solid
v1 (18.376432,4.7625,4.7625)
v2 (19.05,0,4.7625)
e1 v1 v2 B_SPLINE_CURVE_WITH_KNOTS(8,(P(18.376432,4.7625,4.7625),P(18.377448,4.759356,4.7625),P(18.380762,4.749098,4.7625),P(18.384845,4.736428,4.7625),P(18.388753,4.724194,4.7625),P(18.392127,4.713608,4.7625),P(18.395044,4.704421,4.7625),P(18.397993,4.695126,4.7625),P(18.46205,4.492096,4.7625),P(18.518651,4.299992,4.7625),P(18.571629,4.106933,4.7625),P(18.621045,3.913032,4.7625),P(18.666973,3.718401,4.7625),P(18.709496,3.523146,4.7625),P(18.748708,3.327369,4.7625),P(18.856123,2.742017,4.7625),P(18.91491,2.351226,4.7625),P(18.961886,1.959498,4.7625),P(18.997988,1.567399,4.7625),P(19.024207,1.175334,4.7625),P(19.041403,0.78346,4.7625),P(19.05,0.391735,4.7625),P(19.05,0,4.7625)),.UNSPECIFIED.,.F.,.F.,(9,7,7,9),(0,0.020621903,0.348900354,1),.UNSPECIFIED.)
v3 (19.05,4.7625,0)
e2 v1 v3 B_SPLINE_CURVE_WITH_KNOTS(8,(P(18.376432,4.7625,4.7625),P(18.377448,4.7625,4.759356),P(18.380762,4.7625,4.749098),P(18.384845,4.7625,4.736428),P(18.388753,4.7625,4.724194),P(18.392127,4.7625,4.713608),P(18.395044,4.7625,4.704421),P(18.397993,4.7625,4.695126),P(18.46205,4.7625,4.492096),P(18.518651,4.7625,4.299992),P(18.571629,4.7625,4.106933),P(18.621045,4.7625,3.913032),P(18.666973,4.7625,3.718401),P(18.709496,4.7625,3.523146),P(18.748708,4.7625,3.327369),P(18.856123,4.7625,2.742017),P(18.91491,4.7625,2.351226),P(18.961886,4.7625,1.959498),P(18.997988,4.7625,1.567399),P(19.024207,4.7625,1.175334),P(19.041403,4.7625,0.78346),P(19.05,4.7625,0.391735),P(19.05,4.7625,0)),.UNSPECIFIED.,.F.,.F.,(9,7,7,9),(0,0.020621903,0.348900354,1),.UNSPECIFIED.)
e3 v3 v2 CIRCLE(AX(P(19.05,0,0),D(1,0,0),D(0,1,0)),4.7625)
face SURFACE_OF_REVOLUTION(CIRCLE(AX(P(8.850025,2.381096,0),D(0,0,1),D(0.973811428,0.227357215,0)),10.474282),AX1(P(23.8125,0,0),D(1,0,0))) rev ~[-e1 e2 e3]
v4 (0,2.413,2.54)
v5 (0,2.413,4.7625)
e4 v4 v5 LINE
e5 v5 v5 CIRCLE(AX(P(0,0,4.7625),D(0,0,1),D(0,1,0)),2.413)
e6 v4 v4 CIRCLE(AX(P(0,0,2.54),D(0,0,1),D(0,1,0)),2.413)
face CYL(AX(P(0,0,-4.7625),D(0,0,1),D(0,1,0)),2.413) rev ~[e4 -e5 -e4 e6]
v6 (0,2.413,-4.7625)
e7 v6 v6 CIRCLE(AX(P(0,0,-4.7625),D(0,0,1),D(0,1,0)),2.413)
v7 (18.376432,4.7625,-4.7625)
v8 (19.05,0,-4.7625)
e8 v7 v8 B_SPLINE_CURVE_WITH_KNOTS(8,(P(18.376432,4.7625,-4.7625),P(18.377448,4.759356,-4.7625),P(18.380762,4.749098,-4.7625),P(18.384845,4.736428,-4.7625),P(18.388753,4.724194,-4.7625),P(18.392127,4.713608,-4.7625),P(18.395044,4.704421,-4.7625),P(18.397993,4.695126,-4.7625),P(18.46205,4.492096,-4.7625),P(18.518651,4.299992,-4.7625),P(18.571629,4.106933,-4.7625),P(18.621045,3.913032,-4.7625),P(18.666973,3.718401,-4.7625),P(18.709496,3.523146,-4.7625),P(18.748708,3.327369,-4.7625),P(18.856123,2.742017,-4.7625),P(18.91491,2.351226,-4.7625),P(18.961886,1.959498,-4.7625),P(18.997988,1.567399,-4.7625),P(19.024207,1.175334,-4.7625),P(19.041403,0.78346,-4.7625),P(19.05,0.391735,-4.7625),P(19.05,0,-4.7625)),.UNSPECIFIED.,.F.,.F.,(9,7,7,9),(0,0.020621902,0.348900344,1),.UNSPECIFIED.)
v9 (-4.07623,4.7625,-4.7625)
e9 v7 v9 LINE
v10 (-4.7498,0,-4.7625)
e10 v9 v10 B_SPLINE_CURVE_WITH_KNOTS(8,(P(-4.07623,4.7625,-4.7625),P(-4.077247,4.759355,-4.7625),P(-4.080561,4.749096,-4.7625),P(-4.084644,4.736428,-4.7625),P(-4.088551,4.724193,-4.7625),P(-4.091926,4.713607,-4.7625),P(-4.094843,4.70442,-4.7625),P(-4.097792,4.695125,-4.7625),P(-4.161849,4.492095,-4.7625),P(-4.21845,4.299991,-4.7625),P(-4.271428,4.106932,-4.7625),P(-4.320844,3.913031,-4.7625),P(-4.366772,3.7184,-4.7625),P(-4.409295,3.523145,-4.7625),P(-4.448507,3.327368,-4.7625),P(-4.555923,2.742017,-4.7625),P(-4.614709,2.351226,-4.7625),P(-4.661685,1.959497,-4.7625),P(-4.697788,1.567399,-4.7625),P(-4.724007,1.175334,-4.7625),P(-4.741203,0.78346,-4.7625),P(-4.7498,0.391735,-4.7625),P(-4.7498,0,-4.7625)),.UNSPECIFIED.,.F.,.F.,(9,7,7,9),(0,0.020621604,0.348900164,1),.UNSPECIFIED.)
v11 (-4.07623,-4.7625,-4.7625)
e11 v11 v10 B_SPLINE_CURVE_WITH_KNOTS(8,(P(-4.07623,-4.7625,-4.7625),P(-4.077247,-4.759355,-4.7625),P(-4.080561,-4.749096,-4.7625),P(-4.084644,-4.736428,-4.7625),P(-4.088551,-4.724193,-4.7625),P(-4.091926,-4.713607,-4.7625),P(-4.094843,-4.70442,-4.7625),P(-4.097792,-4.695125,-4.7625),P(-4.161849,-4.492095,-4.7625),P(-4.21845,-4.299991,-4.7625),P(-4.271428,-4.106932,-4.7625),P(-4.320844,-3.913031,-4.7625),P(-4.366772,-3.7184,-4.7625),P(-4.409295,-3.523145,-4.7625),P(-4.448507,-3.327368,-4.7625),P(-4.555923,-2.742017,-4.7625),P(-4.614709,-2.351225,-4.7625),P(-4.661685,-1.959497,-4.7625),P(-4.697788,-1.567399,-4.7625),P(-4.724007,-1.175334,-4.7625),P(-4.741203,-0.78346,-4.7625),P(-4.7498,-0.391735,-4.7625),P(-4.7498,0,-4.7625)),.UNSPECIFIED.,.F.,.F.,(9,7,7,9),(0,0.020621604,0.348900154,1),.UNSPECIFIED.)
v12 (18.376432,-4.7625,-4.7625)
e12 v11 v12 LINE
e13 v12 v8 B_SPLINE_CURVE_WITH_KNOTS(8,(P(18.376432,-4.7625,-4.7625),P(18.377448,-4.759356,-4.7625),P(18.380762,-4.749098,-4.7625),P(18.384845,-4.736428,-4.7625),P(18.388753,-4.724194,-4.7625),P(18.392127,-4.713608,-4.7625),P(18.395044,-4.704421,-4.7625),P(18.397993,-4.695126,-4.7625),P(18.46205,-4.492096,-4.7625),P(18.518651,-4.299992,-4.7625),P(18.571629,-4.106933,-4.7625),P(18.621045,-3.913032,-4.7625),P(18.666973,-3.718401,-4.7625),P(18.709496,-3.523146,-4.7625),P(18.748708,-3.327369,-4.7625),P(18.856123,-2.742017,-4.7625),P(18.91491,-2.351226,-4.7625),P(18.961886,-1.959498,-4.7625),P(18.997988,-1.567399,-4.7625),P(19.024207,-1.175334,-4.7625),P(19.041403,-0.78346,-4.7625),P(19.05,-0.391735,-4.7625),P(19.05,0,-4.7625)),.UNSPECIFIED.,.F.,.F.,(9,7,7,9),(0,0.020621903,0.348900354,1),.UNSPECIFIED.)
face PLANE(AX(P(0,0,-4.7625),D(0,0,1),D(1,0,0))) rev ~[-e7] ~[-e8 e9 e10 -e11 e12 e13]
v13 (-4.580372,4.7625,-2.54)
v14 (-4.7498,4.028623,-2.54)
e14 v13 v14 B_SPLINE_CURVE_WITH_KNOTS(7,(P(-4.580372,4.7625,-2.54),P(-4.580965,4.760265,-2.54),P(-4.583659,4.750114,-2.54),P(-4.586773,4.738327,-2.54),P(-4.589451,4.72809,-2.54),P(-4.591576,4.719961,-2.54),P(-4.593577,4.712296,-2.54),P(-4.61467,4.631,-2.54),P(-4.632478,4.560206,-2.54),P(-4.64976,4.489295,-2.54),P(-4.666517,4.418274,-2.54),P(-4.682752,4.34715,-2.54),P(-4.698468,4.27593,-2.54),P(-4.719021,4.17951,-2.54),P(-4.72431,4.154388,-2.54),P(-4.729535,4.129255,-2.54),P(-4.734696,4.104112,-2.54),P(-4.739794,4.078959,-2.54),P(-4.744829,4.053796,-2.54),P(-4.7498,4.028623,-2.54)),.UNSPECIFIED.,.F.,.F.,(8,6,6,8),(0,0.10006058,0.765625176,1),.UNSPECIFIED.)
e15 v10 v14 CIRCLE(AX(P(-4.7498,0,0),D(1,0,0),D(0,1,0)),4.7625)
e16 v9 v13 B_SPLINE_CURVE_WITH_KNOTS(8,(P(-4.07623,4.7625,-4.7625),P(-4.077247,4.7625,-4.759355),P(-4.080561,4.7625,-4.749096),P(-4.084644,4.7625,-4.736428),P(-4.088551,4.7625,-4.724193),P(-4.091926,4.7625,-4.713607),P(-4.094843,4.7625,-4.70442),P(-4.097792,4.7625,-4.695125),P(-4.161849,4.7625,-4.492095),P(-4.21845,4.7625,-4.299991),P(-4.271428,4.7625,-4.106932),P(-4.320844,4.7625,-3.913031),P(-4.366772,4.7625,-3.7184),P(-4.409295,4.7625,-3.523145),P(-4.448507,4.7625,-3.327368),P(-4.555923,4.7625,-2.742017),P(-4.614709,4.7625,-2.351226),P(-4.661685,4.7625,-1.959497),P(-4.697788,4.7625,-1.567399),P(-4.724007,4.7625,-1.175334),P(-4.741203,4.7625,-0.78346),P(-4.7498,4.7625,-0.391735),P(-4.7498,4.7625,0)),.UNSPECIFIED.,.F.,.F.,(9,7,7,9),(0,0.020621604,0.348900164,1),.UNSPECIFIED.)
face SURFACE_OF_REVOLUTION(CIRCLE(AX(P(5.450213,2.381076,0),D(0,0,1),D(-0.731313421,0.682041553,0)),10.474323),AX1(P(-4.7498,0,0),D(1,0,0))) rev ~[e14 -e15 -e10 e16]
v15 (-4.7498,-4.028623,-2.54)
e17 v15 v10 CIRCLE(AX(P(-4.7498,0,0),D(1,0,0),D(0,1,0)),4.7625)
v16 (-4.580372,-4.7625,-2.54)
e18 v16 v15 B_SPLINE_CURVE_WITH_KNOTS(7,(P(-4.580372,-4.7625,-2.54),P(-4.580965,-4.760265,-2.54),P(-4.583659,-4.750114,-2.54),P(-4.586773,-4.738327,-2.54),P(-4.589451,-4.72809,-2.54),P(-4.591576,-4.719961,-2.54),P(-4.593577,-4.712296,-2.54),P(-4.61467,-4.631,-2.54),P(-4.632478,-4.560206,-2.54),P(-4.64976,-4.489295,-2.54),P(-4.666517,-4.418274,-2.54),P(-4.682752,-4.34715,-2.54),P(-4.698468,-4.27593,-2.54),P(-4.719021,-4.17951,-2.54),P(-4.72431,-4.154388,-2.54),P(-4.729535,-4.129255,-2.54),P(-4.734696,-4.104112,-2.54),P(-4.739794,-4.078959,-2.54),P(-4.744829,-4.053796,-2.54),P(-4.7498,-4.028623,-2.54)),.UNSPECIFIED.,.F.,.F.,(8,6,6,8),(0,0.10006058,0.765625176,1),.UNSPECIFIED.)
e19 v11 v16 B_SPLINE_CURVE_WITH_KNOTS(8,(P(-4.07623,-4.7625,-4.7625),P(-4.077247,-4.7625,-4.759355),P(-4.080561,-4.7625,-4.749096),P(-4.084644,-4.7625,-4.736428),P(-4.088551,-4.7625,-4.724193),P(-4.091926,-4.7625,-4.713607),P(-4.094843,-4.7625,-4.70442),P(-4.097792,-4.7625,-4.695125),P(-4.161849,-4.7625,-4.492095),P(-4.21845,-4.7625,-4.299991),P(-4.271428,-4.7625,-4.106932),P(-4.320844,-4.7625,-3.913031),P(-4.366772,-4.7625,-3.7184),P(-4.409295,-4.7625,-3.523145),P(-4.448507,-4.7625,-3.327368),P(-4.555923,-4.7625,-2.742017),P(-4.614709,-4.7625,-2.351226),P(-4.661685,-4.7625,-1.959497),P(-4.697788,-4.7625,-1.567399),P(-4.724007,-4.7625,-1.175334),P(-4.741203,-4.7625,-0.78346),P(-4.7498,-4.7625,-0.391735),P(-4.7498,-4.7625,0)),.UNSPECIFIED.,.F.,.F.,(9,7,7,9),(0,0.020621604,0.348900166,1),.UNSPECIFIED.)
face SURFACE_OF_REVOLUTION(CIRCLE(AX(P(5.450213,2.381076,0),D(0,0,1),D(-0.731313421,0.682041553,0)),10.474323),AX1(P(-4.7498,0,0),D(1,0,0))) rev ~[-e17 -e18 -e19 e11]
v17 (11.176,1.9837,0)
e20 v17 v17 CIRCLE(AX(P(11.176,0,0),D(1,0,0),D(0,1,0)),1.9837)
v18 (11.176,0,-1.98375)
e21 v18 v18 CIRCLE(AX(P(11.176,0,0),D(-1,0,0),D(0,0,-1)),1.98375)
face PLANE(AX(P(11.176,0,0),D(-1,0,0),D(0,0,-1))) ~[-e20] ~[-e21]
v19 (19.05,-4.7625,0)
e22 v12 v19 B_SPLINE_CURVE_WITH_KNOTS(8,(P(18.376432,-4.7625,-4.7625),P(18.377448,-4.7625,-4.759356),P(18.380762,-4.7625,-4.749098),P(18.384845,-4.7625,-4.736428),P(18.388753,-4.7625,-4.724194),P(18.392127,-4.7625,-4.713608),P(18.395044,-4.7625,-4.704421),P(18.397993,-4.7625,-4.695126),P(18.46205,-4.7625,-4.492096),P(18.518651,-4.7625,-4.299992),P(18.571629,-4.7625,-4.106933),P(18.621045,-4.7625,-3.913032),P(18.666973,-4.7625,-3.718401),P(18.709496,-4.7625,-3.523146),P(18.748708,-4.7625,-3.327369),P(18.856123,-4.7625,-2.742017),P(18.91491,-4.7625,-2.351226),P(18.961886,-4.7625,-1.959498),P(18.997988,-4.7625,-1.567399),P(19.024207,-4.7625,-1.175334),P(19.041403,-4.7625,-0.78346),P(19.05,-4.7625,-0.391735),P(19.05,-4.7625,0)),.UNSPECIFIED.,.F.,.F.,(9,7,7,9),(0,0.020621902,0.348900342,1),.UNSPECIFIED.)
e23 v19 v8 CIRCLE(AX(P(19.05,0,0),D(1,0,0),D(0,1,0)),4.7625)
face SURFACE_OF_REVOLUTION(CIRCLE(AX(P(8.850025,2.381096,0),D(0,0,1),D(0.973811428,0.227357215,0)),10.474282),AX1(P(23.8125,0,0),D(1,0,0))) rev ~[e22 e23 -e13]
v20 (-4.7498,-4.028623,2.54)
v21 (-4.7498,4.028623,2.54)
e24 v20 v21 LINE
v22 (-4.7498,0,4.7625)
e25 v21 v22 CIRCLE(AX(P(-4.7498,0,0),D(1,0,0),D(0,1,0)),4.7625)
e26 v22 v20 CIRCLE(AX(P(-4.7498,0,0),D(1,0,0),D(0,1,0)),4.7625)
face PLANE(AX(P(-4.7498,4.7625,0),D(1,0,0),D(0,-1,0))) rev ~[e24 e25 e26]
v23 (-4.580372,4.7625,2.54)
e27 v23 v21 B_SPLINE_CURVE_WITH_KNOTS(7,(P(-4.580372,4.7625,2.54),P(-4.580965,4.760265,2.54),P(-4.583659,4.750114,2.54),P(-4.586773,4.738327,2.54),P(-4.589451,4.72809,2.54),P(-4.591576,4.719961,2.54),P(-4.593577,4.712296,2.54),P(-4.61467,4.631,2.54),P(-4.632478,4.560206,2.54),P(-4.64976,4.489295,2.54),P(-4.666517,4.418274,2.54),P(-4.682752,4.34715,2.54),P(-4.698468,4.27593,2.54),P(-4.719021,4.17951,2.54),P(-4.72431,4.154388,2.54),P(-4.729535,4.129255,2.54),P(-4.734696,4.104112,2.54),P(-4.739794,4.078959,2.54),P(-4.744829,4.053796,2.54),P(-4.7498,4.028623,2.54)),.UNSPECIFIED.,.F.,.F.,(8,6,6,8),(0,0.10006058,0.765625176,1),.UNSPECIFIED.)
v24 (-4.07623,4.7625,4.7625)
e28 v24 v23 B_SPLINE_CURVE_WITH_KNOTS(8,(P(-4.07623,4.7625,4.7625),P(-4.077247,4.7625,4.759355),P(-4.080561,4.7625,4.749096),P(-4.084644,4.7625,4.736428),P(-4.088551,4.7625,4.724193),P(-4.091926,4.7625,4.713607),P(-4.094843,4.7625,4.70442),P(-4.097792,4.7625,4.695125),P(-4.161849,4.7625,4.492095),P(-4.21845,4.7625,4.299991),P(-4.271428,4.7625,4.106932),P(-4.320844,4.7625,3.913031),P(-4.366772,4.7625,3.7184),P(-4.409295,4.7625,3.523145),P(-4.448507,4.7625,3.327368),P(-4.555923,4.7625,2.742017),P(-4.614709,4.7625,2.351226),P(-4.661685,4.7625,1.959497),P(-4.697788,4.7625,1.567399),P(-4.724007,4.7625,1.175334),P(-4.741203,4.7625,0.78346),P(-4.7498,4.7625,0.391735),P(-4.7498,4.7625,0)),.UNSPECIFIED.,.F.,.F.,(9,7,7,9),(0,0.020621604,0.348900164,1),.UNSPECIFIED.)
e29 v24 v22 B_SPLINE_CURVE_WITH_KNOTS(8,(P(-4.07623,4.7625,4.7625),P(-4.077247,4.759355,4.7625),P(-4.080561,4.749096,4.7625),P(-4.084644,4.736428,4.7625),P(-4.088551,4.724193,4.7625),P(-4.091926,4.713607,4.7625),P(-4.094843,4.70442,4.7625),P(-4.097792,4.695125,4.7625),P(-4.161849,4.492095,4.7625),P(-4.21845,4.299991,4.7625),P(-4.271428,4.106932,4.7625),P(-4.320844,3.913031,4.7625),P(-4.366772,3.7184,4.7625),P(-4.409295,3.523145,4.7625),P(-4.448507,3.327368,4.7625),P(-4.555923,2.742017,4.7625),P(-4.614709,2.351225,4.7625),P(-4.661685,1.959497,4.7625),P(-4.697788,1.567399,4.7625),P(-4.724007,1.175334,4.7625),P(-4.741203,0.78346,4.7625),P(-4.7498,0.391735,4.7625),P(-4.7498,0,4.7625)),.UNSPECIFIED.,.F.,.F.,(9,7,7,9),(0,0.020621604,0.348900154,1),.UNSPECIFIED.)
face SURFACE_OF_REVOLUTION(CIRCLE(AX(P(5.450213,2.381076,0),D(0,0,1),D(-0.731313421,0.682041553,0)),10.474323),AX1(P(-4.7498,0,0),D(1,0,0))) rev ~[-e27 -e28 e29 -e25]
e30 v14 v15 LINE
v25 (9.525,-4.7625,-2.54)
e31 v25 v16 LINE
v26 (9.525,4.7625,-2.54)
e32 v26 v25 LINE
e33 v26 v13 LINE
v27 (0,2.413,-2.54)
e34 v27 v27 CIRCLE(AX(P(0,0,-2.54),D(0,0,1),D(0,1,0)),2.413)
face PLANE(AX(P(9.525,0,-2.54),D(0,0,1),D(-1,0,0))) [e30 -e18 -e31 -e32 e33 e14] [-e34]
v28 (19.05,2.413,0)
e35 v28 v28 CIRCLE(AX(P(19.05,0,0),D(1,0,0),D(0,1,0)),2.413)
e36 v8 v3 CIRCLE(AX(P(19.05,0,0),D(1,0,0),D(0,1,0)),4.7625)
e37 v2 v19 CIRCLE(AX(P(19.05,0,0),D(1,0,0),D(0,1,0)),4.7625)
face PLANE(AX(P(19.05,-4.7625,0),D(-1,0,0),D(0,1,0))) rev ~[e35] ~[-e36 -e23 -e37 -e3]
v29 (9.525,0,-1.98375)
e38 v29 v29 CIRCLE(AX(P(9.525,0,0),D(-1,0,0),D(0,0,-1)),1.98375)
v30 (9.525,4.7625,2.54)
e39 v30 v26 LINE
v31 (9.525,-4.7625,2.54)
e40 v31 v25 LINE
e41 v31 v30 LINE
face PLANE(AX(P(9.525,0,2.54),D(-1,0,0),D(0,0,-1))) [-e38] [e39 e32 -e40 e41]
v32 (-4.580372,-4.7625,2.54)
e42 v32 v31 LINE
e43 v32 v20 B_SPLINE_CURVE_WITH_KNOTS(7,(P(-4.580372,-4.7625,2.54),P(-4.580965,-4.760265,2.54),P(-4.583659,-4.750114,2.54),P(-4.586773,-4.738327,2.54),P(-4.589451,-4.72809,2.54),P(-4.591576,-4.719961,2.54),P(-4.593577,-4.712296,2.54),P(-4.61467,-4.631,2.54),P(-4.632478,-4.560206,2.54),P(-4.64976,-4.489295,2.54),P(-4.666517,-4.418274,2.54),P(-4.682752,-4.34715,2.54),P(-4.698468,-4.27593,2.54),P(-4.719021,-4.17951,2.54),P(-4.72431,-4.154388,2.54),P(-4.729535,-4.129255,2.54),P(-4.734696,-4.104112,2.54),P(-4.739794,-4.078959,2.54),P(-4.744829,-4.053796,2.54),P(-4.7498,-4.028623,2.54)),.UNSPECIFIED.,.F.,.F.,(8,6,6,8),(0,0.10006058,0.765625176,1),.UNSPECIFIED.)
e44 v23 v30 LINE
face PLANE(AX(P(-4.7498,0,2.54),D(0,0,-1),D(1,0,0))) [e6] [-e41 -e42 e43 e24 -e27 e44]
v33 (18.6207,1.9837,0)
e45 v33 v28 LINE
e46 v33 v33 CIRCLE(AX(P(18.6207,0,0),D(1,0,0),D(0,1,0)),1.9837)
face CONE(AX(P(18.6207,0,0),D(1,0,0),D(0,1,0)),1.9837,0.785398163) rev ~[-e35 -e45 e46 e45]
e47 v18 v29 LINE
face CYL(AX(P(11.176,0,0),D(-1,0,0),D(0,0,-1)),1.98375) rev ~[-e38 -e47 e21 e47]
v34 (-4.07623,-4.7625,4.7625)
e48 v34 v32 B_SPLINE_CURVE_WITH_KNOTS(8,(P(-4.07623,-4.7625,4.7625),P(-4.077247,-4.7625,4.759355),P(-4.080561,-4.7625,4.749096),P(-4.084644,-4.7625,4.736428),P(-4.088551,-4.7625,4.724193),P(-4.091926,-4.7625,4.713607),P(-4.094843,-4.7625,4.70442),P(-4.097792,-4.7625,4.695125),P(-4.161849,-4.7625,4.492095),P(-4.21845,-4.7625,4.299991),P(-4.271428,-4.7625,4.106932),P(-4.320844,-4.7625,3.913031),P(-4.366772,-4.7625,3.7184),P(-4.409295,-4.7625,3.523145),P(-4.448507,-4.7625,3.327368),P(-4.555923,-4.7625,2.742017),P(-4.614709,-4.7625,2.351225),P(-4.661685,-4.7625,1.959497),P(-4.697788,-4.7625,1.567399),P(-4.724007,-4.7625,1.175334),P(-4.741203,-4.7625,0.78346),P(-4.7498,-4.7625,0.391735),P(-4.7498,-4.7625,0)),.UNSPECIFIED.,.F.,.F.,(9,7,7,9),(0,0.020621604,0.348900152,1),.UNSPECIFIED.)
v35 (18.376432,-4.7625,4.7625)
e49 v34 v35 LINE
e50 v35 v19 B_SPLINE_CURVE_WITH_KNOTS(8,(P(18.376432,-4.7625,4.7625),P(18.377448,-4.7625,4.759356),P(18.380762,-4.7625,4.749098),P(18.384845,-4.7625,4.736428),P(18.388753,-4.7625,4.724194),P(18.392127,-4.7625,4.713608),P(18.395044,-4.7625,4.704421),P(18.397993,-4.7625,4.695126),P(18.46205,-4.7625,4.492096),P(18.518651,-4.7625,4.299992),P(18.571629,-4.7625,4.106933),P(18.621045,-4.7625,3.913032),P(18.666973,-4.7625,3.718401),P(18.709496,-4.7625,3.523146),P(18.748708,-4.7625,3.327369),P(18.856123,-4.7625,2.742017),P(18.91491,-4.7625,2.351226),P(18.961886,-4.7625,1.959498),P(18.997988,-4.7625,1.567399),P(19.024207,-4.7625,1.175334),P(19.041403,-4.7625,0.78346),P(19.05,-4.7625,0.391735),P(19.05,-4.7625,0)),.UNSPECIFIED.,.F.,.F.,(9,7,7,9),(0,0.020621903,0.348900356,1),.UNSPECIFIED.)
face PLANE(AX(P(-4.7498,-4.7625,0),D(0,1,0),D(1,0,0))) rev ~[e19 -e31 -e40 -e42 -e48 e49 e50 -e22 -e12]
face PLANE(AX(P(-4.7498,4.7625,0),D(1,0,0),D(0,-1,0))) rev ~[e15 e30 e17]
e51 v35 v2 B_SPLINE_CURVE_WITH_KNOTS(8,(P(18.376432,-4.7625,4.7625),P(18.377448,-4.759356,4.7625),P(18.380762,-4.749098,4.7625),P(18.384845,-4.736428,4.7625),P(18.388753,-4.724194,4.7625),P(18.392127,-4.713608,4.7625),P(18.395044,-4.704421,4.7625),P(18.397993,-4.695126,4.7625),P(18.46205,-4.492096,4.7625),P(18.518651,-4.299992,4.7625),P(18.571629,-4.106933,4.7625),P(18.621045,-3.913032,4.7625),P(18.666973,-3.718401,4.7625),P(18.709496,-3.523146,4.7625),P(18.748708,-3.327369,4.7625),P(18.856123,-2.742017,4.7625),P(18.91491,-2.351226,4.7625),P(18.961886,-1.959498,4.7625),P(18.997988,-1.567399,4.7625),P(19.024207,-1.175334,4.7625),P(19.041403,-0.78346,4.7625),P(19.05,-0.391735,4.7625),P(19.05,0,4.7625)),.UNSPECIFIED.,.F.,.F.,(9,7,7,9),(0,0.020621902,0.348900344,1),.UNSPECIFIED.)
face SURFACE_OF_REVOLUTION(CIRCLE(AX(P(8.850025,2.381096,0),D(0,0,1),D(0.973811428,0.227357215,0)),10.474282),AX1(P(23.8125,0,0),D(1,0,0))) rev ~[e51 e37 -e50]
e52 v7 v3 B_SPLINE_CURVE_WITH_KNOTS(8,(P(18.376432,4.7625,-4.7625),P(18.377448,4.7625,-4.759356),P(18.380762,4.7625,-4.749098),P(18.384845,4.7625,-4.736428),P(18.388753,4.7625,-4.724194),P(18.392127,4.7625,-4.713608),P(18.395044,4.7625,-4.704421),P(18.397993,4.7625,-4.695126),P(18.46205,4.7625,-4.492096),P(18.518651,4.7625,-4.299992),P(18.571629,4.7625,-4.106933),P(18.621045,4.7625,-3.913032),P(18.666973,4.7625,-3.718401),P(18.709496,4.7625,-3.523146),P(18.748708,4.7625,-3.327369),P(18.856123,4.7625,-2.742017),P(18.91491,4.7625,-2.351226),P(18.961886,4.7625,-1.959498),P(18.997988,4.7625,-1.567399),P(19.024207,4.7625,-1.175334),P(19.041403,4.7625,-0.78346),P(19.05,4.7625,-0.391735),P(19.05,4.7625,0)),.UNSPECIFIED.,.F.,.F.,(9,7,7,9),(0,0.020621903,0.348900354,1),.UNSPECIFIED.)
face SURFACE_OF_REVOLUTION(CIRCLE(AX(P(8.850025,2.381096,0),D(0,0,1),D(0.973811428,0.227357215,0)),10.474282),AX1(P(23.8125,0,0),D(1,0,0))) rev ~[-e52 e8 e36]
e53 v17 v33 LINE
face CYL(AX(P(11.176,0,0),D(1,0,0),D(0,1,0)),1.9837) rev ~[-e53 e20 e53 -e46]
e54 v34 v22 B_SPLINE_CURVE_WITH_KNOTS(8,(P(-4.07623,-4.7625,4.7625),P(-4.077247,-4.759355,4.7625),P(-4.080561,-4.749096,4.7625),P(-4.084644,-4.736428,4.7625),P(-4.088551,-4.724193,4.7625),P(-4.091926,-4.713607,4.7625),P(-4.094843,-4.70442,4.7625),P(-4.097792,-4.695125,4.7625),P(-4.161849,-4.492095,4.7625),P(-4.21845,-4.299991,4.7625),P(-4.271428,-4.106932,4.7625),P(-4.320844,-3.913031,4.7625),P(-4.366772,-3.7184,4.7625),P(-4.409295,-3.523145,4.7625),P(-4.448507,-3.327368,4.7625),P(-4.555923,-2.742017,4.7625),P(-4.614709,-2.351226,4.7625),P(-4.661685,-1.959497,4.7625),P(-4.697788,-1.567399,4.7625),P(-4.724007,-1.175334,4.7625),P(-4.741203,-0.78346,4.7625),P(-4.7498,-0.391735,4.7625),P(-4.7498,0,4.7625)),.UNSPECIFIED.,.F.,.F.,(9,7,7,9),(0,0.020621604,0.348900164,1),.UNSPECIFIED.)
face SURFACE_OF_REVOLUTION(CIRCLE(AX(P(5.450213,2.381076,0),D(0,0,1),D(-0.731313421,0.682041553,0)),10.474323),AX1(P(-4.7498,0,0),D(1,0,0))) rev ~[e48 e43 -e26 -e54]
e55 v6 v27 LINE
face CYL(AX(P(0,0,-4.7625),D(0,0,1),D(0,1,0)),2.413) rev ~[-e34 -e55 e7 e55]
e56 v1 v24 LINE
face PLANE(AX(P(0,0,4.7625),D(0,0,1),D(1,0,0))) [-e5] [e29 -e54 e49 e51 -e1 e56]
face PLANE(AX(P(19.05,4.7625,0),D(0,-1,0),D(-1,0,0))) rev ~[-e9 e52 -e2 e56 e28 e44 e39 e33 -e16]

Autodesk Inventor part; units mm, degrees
sketch "Sketch_1" plane through (0, 0, 0) normal (0, 0, 1) x (1, 0, 0)
  line L0 (-4.7498, -4.7625) -> (19.05, -4.7625)
  line L1 (19.05, -4.7625) -> (19.05, 4.7625)
  line L2 (19.05, 4.7625) -> (-4.7498, 4.7625)
  line L3 (-4.7498, 4.7625) -> (-4.7498, -4.7625)
extrude "Extrusion1" add sketch "Sketch_1" along normal mid plane 9.525
sketch "Sketch_2" plane through (0, 0, 0) normal (0, 1, 0) x (-1, 0, 0)
  line L0 (4.7498, 2.54) -> (-9.525, 2.54)
  line L1 (-9.525, 2.54) -> (-9.525, -2.54)
  line L2 (-9.525, -2.54) -> (4.7498, -2.54)
  line L3 (4.7498, -2.54) -> (4.7498, 2.54)
extrude "Extrusion2" cut sketch "Sketch_2" along normal mid plane 9.525
sketch "Sketch_3" plane through (0, 0, 0) normal (0, 0, 1) x (1, 0, 0)
  line L0 (19.05, 0) -> (11.176, 0)
  line L1 (11.176, 0) -> (11.176, 1.9837)
  line L2 (11.176, 1.9837) -> (18.6207, 1.9837)
  line L3 (18.6207, 1.9837) -> (19.05, 2.413)
  line L4 (19.05, 2.413) -> (19.05, 0)
  line L5 (19.05, 0) -> (11.176, 0)
revolve "Revolution1" cut sketch "Sketch_3" angle 360 about axis through (19.05, 0, 0) along (1, 0, 0)
sketch "Sketch5" plane through (11.176, 0, 0) normal (1, 0, 0) x (0, 0, -1)
  point P0 (0, 0)
hole "Hole1" at (11.176, 0, 0) direction (-1, 0, 0) diameter 3.9675 depth 1.651
sketch "Sketch6" plane through (0, 0, -4.7625) normal (0, 0, -1) x (-1, 0, 0)
  point P0 (0, 0)
hole "Hole2" at (0, 0, -4.7625) direction (0, 0, 1) diameter 4.826 depth 9.525
sketch "Sketch_9" plane through (0, 0, 0) normal (0, 0, 1) x (1, 0, 0)
  line L0 (23.8125, 0) -> (19.05, 0)
  line L1 (19.05, 0) -> (19.05, 4.7625)
  arc A0 (19.05, 4.7625) -> (16.51, 9.525) centre (8.8503, 2.3812) ccw
  line L2 (16.51, 9.525) -> (23.8125, 9.525)
  line L3 (23.8125, 9.525) -> (23.8125, 0)
  line L4 (23.8125, 0) -> (19.05, 0)
revolve "Revolution2" cut sketch "Sketch_9" angle 360 about axis through (23.8125, 0, 0) along (1, 0, 0)
sketch "Sketch_10" plane through (0, 0, 0) normal (0, 0, 1) x (1, 0, 0)
  line L0 (-4.7498, 0) -> (-9.5123, 0)
  line L1 (-9.5123, 0) -> (-9.5123, 9.525)
  line L2 (-9.5123, 9.525) -> (-2.2098, 9.525)
  arc A0 (-2.2098, 9.525) -> (-4.7498, 4.7625) centre (5.4499, 2.3813) ccw
  line L3 (-4.7498, 4.7625) -> (-4.7498, 0)
  line L4 (-4.7498, 0) -> (-9.5123, 0)
revolve "Revolution3" cut sketch "Sketch_10" angle 360 about axis through (-4.7498, 0, 0) along (1, 0, 0)
ref_plane "dummy_XY" through (0, 0, 0) normal (0, 0, 1) x (1, 0, 0)
ref_plane "dummy_YZ" through (0, 0, 0) normal (1, 0, 0) x (0, 1, 0)
ref_plane "dummy_ZX" through (0, 0, 0) normal (0, 1, 0) x (0, 0, 1)
ref_plane "h1_XY" through (-4.7498, 4.7625, 0) normal (0, 0, 1) x (1, 0, 0)
ref_plane "h1_YZ" through (-4.7498, 4.7625, 0) normal (1, 0, 0) x (0, 1, 0)
ref_plane "h1_ZX" through (-4.7498, 4.7625, 0) normal (0, 1, 0) x (0, 0, 1)
ref_plane "h2_XY" through (-4.7498, -4.7625, 0) normal (0, 0, 1) x (1, 0, 0)
ref_plane "h2_YZ" through (-4.7498, -4.7625, 0) normal (1, 0, 0) x (0, 1, 0)
ref_plane "h2_ZX" through (-4.7498, -4.7625, 0) normal (0, 1, 0) x (0, 0, 1)
ref_plane "l1_XY" through (19.05, 4.7625, 0) normal (0, 0, 1) x (1, 0, 0)
ref_plane "l1_YZ" through (19.05, 4.7625, 0) normal (1, 0, 0) x (0, 1, 0)
ref_plane "l1_ZX" through (19.05, 4.7625, 0) normal (0, 1, 0) x (0, 0, 1)
ref_plane "l11_XY" through (19.05, 4.7625, 0) normal (0, 0, 1) x (1, 0, 0)
ref_plane "l11_YZ" through (19.05, 4.7625, 0) normal (1, 0, 0) x (0, 1, 0)
ref_plane "l11_ZX" through (19.05, 4.7625, 0) normal (0, 1, 0) x (0, 0, 1)
ref_plane "l12_XY" through (0, 4.7625, 0) normal (0, 0, 1) x (1, 0, 0)
ref_plane "l12_YZ" through (0, 4.7625, 0) normal (1, 0, 0) x (0, 1, 0)
ref_plane "l12_ZX" through (0, 4.7625, 0) normal (0, 1, 0) x (0, 0, 1)
ref_plane "l2_XY" through (-4.7498, 4.7625, 0) normal (0, 0, 1) x (1, 0, 0)
ref_plane "l2_YZ" through (-4.7498, 4.7625, 0) normal (1, 0, 0) x (0, 1, 0)
ref_plane "l2_ZX" through (-4.7498, 4.7625, 0) normal (0, 1, 0) x (0, 0, 1)
ref_plane "l21_XY" through (19.05, 0, 0) normal (0, 1, 0) x (1, 0, 0)
ref_plane "l21_YZ" through (19.05, 0, 0) normal (1, 0, 0) x (0, 0, -1)
ref_plane "l21_ZX" through (19.05, 0, 0) normal (0, 0, -1) x (0, 1, 0)
ref_plane "l22_XY" through (9.525, 0, 0) normal (0, 1, 0) x (1, 0, 0)
ref_plane "l22_YZ" through (9.525, 0, 0) normal (1, 0, 0) x (0, 0, -1)
ref_plane "l22_ZX" through (9.525, 0, 0) normal (0, 0, -1) x (0, 1, 0)
ref_plane "piston_rod_clevis_XY" through (19.05, 0, 0) normal (1, 0, 0) x (0, 0, -1)
ref_plane "piston_rod_clevis_YZ" through (19.05, 0, 0) normal (0, 0, -1) x (0, 1, 0)
ref_plane "piston_rod_clevis_ZX" through (19.05, 0, 0) normal (0, 1, 0) x (1, 0, 0)
ref_plane "rod_clevis_body_XY" through (0, 0, 0) normal (0, 0, 1) x (1, 0, 0)
ref_plane "rod_clevis_body_YZ" through (0, 0, 0) normal (1, 0, 0) x (0, 1, 0)
ref_plane "rod_clevis_body_ZX" through (0, 0, 0) normal (0, 1, 0) x (0, 0, 1)
ref_plane "th1_XY" through (19.05, 2.413, 0) normal (0, 0, 1) x (1, 0, 0)
ref_plane "th1_YZ" through (19.05, 2.413, 0) normal (1, 0, 0) x (0, 1, 0)
ref_plane "th1_ZX" through (19.05, 2.413, 0) normal (0, 1, 0) x (0, 0, 1)
ref_plane "th2_XY" through (19.05, -2.413, 0) normal (0, 0, 1) x (1, 0, 0)
ref_plane "th2_YZ" through (19.05, -2.413, 0) normal (1, 0, 0) x (0, 1, 0)
ref_plane "th2_ZX" through (19.05, -2.413, 0) normal (0, 1, 0) x (0, 0, 1)
ref_plane "to_cylinder_XY" through (9.525, 0, 0) normal (1, 0, 0) x (0, 0, -1)
ref_plane "to_cylinder_YZ" through (9.525, 0, 0) normal (0, 0, -1) x (0, 1, 0)
ref_plane "to_cylinder_ZX" through (9.525, 0, 0) normal (0, 1, 0) x (1, 0, 0)
ref_plane "w1_XY" through (19.05, 0, -4.7625) normal (0, 1, 0) x (1, 0, 0)
ref_plane "w1_YZ" through (19.05, 0, -4.7625) normal (1, 0, 0) x (0, 0, -1)
ref_plane "w1_ZX" through (19.05, 0, -4.7625) normal (0, 0, -1) x (0, 1, 0)
ref_plane "w11_XY" through (-4.7498, 0, -2.54) normal (0, 1, 0) x (1, 0, 0)
ref_plane "w11_YZ" through (-4.7498, 0, -2.54) normal (1, 0, 0) x (0, 0, -1)
ref_plane "w11_ZX" through (-4.7498, 0, -2.54) normal (0, 0, -1) x (0, 1, 0)
ref_plane "w12_XY" through (-4.7498, 0, 2.54) normal (0, 1, 0) x (1, 0, 0)
ref_plane "w12_YZ" through (-4.7498, 0, 2.54) normal (1, 0, 0) x (0, 0, -1)
ref_plane "w12_ZX" through (-4.7498, 0, 2.54) normal (0, 0, -1) x (0, 1, 0)
ref_plane "w2_XY" through (19.05, 0, 4.7625) normal (0, 1, 0) x (1, 0, 0)
ref_plane "w2_YZ" through (19.05, 0, 4.7625) normal (1, 0, 0) x (0, 0, -1)
ref_plane "w2_ZX" through (19.05, 0, 4.7625) normal (0, 0, -1) x (0, 1, 0)
properties part number "D-14043"
